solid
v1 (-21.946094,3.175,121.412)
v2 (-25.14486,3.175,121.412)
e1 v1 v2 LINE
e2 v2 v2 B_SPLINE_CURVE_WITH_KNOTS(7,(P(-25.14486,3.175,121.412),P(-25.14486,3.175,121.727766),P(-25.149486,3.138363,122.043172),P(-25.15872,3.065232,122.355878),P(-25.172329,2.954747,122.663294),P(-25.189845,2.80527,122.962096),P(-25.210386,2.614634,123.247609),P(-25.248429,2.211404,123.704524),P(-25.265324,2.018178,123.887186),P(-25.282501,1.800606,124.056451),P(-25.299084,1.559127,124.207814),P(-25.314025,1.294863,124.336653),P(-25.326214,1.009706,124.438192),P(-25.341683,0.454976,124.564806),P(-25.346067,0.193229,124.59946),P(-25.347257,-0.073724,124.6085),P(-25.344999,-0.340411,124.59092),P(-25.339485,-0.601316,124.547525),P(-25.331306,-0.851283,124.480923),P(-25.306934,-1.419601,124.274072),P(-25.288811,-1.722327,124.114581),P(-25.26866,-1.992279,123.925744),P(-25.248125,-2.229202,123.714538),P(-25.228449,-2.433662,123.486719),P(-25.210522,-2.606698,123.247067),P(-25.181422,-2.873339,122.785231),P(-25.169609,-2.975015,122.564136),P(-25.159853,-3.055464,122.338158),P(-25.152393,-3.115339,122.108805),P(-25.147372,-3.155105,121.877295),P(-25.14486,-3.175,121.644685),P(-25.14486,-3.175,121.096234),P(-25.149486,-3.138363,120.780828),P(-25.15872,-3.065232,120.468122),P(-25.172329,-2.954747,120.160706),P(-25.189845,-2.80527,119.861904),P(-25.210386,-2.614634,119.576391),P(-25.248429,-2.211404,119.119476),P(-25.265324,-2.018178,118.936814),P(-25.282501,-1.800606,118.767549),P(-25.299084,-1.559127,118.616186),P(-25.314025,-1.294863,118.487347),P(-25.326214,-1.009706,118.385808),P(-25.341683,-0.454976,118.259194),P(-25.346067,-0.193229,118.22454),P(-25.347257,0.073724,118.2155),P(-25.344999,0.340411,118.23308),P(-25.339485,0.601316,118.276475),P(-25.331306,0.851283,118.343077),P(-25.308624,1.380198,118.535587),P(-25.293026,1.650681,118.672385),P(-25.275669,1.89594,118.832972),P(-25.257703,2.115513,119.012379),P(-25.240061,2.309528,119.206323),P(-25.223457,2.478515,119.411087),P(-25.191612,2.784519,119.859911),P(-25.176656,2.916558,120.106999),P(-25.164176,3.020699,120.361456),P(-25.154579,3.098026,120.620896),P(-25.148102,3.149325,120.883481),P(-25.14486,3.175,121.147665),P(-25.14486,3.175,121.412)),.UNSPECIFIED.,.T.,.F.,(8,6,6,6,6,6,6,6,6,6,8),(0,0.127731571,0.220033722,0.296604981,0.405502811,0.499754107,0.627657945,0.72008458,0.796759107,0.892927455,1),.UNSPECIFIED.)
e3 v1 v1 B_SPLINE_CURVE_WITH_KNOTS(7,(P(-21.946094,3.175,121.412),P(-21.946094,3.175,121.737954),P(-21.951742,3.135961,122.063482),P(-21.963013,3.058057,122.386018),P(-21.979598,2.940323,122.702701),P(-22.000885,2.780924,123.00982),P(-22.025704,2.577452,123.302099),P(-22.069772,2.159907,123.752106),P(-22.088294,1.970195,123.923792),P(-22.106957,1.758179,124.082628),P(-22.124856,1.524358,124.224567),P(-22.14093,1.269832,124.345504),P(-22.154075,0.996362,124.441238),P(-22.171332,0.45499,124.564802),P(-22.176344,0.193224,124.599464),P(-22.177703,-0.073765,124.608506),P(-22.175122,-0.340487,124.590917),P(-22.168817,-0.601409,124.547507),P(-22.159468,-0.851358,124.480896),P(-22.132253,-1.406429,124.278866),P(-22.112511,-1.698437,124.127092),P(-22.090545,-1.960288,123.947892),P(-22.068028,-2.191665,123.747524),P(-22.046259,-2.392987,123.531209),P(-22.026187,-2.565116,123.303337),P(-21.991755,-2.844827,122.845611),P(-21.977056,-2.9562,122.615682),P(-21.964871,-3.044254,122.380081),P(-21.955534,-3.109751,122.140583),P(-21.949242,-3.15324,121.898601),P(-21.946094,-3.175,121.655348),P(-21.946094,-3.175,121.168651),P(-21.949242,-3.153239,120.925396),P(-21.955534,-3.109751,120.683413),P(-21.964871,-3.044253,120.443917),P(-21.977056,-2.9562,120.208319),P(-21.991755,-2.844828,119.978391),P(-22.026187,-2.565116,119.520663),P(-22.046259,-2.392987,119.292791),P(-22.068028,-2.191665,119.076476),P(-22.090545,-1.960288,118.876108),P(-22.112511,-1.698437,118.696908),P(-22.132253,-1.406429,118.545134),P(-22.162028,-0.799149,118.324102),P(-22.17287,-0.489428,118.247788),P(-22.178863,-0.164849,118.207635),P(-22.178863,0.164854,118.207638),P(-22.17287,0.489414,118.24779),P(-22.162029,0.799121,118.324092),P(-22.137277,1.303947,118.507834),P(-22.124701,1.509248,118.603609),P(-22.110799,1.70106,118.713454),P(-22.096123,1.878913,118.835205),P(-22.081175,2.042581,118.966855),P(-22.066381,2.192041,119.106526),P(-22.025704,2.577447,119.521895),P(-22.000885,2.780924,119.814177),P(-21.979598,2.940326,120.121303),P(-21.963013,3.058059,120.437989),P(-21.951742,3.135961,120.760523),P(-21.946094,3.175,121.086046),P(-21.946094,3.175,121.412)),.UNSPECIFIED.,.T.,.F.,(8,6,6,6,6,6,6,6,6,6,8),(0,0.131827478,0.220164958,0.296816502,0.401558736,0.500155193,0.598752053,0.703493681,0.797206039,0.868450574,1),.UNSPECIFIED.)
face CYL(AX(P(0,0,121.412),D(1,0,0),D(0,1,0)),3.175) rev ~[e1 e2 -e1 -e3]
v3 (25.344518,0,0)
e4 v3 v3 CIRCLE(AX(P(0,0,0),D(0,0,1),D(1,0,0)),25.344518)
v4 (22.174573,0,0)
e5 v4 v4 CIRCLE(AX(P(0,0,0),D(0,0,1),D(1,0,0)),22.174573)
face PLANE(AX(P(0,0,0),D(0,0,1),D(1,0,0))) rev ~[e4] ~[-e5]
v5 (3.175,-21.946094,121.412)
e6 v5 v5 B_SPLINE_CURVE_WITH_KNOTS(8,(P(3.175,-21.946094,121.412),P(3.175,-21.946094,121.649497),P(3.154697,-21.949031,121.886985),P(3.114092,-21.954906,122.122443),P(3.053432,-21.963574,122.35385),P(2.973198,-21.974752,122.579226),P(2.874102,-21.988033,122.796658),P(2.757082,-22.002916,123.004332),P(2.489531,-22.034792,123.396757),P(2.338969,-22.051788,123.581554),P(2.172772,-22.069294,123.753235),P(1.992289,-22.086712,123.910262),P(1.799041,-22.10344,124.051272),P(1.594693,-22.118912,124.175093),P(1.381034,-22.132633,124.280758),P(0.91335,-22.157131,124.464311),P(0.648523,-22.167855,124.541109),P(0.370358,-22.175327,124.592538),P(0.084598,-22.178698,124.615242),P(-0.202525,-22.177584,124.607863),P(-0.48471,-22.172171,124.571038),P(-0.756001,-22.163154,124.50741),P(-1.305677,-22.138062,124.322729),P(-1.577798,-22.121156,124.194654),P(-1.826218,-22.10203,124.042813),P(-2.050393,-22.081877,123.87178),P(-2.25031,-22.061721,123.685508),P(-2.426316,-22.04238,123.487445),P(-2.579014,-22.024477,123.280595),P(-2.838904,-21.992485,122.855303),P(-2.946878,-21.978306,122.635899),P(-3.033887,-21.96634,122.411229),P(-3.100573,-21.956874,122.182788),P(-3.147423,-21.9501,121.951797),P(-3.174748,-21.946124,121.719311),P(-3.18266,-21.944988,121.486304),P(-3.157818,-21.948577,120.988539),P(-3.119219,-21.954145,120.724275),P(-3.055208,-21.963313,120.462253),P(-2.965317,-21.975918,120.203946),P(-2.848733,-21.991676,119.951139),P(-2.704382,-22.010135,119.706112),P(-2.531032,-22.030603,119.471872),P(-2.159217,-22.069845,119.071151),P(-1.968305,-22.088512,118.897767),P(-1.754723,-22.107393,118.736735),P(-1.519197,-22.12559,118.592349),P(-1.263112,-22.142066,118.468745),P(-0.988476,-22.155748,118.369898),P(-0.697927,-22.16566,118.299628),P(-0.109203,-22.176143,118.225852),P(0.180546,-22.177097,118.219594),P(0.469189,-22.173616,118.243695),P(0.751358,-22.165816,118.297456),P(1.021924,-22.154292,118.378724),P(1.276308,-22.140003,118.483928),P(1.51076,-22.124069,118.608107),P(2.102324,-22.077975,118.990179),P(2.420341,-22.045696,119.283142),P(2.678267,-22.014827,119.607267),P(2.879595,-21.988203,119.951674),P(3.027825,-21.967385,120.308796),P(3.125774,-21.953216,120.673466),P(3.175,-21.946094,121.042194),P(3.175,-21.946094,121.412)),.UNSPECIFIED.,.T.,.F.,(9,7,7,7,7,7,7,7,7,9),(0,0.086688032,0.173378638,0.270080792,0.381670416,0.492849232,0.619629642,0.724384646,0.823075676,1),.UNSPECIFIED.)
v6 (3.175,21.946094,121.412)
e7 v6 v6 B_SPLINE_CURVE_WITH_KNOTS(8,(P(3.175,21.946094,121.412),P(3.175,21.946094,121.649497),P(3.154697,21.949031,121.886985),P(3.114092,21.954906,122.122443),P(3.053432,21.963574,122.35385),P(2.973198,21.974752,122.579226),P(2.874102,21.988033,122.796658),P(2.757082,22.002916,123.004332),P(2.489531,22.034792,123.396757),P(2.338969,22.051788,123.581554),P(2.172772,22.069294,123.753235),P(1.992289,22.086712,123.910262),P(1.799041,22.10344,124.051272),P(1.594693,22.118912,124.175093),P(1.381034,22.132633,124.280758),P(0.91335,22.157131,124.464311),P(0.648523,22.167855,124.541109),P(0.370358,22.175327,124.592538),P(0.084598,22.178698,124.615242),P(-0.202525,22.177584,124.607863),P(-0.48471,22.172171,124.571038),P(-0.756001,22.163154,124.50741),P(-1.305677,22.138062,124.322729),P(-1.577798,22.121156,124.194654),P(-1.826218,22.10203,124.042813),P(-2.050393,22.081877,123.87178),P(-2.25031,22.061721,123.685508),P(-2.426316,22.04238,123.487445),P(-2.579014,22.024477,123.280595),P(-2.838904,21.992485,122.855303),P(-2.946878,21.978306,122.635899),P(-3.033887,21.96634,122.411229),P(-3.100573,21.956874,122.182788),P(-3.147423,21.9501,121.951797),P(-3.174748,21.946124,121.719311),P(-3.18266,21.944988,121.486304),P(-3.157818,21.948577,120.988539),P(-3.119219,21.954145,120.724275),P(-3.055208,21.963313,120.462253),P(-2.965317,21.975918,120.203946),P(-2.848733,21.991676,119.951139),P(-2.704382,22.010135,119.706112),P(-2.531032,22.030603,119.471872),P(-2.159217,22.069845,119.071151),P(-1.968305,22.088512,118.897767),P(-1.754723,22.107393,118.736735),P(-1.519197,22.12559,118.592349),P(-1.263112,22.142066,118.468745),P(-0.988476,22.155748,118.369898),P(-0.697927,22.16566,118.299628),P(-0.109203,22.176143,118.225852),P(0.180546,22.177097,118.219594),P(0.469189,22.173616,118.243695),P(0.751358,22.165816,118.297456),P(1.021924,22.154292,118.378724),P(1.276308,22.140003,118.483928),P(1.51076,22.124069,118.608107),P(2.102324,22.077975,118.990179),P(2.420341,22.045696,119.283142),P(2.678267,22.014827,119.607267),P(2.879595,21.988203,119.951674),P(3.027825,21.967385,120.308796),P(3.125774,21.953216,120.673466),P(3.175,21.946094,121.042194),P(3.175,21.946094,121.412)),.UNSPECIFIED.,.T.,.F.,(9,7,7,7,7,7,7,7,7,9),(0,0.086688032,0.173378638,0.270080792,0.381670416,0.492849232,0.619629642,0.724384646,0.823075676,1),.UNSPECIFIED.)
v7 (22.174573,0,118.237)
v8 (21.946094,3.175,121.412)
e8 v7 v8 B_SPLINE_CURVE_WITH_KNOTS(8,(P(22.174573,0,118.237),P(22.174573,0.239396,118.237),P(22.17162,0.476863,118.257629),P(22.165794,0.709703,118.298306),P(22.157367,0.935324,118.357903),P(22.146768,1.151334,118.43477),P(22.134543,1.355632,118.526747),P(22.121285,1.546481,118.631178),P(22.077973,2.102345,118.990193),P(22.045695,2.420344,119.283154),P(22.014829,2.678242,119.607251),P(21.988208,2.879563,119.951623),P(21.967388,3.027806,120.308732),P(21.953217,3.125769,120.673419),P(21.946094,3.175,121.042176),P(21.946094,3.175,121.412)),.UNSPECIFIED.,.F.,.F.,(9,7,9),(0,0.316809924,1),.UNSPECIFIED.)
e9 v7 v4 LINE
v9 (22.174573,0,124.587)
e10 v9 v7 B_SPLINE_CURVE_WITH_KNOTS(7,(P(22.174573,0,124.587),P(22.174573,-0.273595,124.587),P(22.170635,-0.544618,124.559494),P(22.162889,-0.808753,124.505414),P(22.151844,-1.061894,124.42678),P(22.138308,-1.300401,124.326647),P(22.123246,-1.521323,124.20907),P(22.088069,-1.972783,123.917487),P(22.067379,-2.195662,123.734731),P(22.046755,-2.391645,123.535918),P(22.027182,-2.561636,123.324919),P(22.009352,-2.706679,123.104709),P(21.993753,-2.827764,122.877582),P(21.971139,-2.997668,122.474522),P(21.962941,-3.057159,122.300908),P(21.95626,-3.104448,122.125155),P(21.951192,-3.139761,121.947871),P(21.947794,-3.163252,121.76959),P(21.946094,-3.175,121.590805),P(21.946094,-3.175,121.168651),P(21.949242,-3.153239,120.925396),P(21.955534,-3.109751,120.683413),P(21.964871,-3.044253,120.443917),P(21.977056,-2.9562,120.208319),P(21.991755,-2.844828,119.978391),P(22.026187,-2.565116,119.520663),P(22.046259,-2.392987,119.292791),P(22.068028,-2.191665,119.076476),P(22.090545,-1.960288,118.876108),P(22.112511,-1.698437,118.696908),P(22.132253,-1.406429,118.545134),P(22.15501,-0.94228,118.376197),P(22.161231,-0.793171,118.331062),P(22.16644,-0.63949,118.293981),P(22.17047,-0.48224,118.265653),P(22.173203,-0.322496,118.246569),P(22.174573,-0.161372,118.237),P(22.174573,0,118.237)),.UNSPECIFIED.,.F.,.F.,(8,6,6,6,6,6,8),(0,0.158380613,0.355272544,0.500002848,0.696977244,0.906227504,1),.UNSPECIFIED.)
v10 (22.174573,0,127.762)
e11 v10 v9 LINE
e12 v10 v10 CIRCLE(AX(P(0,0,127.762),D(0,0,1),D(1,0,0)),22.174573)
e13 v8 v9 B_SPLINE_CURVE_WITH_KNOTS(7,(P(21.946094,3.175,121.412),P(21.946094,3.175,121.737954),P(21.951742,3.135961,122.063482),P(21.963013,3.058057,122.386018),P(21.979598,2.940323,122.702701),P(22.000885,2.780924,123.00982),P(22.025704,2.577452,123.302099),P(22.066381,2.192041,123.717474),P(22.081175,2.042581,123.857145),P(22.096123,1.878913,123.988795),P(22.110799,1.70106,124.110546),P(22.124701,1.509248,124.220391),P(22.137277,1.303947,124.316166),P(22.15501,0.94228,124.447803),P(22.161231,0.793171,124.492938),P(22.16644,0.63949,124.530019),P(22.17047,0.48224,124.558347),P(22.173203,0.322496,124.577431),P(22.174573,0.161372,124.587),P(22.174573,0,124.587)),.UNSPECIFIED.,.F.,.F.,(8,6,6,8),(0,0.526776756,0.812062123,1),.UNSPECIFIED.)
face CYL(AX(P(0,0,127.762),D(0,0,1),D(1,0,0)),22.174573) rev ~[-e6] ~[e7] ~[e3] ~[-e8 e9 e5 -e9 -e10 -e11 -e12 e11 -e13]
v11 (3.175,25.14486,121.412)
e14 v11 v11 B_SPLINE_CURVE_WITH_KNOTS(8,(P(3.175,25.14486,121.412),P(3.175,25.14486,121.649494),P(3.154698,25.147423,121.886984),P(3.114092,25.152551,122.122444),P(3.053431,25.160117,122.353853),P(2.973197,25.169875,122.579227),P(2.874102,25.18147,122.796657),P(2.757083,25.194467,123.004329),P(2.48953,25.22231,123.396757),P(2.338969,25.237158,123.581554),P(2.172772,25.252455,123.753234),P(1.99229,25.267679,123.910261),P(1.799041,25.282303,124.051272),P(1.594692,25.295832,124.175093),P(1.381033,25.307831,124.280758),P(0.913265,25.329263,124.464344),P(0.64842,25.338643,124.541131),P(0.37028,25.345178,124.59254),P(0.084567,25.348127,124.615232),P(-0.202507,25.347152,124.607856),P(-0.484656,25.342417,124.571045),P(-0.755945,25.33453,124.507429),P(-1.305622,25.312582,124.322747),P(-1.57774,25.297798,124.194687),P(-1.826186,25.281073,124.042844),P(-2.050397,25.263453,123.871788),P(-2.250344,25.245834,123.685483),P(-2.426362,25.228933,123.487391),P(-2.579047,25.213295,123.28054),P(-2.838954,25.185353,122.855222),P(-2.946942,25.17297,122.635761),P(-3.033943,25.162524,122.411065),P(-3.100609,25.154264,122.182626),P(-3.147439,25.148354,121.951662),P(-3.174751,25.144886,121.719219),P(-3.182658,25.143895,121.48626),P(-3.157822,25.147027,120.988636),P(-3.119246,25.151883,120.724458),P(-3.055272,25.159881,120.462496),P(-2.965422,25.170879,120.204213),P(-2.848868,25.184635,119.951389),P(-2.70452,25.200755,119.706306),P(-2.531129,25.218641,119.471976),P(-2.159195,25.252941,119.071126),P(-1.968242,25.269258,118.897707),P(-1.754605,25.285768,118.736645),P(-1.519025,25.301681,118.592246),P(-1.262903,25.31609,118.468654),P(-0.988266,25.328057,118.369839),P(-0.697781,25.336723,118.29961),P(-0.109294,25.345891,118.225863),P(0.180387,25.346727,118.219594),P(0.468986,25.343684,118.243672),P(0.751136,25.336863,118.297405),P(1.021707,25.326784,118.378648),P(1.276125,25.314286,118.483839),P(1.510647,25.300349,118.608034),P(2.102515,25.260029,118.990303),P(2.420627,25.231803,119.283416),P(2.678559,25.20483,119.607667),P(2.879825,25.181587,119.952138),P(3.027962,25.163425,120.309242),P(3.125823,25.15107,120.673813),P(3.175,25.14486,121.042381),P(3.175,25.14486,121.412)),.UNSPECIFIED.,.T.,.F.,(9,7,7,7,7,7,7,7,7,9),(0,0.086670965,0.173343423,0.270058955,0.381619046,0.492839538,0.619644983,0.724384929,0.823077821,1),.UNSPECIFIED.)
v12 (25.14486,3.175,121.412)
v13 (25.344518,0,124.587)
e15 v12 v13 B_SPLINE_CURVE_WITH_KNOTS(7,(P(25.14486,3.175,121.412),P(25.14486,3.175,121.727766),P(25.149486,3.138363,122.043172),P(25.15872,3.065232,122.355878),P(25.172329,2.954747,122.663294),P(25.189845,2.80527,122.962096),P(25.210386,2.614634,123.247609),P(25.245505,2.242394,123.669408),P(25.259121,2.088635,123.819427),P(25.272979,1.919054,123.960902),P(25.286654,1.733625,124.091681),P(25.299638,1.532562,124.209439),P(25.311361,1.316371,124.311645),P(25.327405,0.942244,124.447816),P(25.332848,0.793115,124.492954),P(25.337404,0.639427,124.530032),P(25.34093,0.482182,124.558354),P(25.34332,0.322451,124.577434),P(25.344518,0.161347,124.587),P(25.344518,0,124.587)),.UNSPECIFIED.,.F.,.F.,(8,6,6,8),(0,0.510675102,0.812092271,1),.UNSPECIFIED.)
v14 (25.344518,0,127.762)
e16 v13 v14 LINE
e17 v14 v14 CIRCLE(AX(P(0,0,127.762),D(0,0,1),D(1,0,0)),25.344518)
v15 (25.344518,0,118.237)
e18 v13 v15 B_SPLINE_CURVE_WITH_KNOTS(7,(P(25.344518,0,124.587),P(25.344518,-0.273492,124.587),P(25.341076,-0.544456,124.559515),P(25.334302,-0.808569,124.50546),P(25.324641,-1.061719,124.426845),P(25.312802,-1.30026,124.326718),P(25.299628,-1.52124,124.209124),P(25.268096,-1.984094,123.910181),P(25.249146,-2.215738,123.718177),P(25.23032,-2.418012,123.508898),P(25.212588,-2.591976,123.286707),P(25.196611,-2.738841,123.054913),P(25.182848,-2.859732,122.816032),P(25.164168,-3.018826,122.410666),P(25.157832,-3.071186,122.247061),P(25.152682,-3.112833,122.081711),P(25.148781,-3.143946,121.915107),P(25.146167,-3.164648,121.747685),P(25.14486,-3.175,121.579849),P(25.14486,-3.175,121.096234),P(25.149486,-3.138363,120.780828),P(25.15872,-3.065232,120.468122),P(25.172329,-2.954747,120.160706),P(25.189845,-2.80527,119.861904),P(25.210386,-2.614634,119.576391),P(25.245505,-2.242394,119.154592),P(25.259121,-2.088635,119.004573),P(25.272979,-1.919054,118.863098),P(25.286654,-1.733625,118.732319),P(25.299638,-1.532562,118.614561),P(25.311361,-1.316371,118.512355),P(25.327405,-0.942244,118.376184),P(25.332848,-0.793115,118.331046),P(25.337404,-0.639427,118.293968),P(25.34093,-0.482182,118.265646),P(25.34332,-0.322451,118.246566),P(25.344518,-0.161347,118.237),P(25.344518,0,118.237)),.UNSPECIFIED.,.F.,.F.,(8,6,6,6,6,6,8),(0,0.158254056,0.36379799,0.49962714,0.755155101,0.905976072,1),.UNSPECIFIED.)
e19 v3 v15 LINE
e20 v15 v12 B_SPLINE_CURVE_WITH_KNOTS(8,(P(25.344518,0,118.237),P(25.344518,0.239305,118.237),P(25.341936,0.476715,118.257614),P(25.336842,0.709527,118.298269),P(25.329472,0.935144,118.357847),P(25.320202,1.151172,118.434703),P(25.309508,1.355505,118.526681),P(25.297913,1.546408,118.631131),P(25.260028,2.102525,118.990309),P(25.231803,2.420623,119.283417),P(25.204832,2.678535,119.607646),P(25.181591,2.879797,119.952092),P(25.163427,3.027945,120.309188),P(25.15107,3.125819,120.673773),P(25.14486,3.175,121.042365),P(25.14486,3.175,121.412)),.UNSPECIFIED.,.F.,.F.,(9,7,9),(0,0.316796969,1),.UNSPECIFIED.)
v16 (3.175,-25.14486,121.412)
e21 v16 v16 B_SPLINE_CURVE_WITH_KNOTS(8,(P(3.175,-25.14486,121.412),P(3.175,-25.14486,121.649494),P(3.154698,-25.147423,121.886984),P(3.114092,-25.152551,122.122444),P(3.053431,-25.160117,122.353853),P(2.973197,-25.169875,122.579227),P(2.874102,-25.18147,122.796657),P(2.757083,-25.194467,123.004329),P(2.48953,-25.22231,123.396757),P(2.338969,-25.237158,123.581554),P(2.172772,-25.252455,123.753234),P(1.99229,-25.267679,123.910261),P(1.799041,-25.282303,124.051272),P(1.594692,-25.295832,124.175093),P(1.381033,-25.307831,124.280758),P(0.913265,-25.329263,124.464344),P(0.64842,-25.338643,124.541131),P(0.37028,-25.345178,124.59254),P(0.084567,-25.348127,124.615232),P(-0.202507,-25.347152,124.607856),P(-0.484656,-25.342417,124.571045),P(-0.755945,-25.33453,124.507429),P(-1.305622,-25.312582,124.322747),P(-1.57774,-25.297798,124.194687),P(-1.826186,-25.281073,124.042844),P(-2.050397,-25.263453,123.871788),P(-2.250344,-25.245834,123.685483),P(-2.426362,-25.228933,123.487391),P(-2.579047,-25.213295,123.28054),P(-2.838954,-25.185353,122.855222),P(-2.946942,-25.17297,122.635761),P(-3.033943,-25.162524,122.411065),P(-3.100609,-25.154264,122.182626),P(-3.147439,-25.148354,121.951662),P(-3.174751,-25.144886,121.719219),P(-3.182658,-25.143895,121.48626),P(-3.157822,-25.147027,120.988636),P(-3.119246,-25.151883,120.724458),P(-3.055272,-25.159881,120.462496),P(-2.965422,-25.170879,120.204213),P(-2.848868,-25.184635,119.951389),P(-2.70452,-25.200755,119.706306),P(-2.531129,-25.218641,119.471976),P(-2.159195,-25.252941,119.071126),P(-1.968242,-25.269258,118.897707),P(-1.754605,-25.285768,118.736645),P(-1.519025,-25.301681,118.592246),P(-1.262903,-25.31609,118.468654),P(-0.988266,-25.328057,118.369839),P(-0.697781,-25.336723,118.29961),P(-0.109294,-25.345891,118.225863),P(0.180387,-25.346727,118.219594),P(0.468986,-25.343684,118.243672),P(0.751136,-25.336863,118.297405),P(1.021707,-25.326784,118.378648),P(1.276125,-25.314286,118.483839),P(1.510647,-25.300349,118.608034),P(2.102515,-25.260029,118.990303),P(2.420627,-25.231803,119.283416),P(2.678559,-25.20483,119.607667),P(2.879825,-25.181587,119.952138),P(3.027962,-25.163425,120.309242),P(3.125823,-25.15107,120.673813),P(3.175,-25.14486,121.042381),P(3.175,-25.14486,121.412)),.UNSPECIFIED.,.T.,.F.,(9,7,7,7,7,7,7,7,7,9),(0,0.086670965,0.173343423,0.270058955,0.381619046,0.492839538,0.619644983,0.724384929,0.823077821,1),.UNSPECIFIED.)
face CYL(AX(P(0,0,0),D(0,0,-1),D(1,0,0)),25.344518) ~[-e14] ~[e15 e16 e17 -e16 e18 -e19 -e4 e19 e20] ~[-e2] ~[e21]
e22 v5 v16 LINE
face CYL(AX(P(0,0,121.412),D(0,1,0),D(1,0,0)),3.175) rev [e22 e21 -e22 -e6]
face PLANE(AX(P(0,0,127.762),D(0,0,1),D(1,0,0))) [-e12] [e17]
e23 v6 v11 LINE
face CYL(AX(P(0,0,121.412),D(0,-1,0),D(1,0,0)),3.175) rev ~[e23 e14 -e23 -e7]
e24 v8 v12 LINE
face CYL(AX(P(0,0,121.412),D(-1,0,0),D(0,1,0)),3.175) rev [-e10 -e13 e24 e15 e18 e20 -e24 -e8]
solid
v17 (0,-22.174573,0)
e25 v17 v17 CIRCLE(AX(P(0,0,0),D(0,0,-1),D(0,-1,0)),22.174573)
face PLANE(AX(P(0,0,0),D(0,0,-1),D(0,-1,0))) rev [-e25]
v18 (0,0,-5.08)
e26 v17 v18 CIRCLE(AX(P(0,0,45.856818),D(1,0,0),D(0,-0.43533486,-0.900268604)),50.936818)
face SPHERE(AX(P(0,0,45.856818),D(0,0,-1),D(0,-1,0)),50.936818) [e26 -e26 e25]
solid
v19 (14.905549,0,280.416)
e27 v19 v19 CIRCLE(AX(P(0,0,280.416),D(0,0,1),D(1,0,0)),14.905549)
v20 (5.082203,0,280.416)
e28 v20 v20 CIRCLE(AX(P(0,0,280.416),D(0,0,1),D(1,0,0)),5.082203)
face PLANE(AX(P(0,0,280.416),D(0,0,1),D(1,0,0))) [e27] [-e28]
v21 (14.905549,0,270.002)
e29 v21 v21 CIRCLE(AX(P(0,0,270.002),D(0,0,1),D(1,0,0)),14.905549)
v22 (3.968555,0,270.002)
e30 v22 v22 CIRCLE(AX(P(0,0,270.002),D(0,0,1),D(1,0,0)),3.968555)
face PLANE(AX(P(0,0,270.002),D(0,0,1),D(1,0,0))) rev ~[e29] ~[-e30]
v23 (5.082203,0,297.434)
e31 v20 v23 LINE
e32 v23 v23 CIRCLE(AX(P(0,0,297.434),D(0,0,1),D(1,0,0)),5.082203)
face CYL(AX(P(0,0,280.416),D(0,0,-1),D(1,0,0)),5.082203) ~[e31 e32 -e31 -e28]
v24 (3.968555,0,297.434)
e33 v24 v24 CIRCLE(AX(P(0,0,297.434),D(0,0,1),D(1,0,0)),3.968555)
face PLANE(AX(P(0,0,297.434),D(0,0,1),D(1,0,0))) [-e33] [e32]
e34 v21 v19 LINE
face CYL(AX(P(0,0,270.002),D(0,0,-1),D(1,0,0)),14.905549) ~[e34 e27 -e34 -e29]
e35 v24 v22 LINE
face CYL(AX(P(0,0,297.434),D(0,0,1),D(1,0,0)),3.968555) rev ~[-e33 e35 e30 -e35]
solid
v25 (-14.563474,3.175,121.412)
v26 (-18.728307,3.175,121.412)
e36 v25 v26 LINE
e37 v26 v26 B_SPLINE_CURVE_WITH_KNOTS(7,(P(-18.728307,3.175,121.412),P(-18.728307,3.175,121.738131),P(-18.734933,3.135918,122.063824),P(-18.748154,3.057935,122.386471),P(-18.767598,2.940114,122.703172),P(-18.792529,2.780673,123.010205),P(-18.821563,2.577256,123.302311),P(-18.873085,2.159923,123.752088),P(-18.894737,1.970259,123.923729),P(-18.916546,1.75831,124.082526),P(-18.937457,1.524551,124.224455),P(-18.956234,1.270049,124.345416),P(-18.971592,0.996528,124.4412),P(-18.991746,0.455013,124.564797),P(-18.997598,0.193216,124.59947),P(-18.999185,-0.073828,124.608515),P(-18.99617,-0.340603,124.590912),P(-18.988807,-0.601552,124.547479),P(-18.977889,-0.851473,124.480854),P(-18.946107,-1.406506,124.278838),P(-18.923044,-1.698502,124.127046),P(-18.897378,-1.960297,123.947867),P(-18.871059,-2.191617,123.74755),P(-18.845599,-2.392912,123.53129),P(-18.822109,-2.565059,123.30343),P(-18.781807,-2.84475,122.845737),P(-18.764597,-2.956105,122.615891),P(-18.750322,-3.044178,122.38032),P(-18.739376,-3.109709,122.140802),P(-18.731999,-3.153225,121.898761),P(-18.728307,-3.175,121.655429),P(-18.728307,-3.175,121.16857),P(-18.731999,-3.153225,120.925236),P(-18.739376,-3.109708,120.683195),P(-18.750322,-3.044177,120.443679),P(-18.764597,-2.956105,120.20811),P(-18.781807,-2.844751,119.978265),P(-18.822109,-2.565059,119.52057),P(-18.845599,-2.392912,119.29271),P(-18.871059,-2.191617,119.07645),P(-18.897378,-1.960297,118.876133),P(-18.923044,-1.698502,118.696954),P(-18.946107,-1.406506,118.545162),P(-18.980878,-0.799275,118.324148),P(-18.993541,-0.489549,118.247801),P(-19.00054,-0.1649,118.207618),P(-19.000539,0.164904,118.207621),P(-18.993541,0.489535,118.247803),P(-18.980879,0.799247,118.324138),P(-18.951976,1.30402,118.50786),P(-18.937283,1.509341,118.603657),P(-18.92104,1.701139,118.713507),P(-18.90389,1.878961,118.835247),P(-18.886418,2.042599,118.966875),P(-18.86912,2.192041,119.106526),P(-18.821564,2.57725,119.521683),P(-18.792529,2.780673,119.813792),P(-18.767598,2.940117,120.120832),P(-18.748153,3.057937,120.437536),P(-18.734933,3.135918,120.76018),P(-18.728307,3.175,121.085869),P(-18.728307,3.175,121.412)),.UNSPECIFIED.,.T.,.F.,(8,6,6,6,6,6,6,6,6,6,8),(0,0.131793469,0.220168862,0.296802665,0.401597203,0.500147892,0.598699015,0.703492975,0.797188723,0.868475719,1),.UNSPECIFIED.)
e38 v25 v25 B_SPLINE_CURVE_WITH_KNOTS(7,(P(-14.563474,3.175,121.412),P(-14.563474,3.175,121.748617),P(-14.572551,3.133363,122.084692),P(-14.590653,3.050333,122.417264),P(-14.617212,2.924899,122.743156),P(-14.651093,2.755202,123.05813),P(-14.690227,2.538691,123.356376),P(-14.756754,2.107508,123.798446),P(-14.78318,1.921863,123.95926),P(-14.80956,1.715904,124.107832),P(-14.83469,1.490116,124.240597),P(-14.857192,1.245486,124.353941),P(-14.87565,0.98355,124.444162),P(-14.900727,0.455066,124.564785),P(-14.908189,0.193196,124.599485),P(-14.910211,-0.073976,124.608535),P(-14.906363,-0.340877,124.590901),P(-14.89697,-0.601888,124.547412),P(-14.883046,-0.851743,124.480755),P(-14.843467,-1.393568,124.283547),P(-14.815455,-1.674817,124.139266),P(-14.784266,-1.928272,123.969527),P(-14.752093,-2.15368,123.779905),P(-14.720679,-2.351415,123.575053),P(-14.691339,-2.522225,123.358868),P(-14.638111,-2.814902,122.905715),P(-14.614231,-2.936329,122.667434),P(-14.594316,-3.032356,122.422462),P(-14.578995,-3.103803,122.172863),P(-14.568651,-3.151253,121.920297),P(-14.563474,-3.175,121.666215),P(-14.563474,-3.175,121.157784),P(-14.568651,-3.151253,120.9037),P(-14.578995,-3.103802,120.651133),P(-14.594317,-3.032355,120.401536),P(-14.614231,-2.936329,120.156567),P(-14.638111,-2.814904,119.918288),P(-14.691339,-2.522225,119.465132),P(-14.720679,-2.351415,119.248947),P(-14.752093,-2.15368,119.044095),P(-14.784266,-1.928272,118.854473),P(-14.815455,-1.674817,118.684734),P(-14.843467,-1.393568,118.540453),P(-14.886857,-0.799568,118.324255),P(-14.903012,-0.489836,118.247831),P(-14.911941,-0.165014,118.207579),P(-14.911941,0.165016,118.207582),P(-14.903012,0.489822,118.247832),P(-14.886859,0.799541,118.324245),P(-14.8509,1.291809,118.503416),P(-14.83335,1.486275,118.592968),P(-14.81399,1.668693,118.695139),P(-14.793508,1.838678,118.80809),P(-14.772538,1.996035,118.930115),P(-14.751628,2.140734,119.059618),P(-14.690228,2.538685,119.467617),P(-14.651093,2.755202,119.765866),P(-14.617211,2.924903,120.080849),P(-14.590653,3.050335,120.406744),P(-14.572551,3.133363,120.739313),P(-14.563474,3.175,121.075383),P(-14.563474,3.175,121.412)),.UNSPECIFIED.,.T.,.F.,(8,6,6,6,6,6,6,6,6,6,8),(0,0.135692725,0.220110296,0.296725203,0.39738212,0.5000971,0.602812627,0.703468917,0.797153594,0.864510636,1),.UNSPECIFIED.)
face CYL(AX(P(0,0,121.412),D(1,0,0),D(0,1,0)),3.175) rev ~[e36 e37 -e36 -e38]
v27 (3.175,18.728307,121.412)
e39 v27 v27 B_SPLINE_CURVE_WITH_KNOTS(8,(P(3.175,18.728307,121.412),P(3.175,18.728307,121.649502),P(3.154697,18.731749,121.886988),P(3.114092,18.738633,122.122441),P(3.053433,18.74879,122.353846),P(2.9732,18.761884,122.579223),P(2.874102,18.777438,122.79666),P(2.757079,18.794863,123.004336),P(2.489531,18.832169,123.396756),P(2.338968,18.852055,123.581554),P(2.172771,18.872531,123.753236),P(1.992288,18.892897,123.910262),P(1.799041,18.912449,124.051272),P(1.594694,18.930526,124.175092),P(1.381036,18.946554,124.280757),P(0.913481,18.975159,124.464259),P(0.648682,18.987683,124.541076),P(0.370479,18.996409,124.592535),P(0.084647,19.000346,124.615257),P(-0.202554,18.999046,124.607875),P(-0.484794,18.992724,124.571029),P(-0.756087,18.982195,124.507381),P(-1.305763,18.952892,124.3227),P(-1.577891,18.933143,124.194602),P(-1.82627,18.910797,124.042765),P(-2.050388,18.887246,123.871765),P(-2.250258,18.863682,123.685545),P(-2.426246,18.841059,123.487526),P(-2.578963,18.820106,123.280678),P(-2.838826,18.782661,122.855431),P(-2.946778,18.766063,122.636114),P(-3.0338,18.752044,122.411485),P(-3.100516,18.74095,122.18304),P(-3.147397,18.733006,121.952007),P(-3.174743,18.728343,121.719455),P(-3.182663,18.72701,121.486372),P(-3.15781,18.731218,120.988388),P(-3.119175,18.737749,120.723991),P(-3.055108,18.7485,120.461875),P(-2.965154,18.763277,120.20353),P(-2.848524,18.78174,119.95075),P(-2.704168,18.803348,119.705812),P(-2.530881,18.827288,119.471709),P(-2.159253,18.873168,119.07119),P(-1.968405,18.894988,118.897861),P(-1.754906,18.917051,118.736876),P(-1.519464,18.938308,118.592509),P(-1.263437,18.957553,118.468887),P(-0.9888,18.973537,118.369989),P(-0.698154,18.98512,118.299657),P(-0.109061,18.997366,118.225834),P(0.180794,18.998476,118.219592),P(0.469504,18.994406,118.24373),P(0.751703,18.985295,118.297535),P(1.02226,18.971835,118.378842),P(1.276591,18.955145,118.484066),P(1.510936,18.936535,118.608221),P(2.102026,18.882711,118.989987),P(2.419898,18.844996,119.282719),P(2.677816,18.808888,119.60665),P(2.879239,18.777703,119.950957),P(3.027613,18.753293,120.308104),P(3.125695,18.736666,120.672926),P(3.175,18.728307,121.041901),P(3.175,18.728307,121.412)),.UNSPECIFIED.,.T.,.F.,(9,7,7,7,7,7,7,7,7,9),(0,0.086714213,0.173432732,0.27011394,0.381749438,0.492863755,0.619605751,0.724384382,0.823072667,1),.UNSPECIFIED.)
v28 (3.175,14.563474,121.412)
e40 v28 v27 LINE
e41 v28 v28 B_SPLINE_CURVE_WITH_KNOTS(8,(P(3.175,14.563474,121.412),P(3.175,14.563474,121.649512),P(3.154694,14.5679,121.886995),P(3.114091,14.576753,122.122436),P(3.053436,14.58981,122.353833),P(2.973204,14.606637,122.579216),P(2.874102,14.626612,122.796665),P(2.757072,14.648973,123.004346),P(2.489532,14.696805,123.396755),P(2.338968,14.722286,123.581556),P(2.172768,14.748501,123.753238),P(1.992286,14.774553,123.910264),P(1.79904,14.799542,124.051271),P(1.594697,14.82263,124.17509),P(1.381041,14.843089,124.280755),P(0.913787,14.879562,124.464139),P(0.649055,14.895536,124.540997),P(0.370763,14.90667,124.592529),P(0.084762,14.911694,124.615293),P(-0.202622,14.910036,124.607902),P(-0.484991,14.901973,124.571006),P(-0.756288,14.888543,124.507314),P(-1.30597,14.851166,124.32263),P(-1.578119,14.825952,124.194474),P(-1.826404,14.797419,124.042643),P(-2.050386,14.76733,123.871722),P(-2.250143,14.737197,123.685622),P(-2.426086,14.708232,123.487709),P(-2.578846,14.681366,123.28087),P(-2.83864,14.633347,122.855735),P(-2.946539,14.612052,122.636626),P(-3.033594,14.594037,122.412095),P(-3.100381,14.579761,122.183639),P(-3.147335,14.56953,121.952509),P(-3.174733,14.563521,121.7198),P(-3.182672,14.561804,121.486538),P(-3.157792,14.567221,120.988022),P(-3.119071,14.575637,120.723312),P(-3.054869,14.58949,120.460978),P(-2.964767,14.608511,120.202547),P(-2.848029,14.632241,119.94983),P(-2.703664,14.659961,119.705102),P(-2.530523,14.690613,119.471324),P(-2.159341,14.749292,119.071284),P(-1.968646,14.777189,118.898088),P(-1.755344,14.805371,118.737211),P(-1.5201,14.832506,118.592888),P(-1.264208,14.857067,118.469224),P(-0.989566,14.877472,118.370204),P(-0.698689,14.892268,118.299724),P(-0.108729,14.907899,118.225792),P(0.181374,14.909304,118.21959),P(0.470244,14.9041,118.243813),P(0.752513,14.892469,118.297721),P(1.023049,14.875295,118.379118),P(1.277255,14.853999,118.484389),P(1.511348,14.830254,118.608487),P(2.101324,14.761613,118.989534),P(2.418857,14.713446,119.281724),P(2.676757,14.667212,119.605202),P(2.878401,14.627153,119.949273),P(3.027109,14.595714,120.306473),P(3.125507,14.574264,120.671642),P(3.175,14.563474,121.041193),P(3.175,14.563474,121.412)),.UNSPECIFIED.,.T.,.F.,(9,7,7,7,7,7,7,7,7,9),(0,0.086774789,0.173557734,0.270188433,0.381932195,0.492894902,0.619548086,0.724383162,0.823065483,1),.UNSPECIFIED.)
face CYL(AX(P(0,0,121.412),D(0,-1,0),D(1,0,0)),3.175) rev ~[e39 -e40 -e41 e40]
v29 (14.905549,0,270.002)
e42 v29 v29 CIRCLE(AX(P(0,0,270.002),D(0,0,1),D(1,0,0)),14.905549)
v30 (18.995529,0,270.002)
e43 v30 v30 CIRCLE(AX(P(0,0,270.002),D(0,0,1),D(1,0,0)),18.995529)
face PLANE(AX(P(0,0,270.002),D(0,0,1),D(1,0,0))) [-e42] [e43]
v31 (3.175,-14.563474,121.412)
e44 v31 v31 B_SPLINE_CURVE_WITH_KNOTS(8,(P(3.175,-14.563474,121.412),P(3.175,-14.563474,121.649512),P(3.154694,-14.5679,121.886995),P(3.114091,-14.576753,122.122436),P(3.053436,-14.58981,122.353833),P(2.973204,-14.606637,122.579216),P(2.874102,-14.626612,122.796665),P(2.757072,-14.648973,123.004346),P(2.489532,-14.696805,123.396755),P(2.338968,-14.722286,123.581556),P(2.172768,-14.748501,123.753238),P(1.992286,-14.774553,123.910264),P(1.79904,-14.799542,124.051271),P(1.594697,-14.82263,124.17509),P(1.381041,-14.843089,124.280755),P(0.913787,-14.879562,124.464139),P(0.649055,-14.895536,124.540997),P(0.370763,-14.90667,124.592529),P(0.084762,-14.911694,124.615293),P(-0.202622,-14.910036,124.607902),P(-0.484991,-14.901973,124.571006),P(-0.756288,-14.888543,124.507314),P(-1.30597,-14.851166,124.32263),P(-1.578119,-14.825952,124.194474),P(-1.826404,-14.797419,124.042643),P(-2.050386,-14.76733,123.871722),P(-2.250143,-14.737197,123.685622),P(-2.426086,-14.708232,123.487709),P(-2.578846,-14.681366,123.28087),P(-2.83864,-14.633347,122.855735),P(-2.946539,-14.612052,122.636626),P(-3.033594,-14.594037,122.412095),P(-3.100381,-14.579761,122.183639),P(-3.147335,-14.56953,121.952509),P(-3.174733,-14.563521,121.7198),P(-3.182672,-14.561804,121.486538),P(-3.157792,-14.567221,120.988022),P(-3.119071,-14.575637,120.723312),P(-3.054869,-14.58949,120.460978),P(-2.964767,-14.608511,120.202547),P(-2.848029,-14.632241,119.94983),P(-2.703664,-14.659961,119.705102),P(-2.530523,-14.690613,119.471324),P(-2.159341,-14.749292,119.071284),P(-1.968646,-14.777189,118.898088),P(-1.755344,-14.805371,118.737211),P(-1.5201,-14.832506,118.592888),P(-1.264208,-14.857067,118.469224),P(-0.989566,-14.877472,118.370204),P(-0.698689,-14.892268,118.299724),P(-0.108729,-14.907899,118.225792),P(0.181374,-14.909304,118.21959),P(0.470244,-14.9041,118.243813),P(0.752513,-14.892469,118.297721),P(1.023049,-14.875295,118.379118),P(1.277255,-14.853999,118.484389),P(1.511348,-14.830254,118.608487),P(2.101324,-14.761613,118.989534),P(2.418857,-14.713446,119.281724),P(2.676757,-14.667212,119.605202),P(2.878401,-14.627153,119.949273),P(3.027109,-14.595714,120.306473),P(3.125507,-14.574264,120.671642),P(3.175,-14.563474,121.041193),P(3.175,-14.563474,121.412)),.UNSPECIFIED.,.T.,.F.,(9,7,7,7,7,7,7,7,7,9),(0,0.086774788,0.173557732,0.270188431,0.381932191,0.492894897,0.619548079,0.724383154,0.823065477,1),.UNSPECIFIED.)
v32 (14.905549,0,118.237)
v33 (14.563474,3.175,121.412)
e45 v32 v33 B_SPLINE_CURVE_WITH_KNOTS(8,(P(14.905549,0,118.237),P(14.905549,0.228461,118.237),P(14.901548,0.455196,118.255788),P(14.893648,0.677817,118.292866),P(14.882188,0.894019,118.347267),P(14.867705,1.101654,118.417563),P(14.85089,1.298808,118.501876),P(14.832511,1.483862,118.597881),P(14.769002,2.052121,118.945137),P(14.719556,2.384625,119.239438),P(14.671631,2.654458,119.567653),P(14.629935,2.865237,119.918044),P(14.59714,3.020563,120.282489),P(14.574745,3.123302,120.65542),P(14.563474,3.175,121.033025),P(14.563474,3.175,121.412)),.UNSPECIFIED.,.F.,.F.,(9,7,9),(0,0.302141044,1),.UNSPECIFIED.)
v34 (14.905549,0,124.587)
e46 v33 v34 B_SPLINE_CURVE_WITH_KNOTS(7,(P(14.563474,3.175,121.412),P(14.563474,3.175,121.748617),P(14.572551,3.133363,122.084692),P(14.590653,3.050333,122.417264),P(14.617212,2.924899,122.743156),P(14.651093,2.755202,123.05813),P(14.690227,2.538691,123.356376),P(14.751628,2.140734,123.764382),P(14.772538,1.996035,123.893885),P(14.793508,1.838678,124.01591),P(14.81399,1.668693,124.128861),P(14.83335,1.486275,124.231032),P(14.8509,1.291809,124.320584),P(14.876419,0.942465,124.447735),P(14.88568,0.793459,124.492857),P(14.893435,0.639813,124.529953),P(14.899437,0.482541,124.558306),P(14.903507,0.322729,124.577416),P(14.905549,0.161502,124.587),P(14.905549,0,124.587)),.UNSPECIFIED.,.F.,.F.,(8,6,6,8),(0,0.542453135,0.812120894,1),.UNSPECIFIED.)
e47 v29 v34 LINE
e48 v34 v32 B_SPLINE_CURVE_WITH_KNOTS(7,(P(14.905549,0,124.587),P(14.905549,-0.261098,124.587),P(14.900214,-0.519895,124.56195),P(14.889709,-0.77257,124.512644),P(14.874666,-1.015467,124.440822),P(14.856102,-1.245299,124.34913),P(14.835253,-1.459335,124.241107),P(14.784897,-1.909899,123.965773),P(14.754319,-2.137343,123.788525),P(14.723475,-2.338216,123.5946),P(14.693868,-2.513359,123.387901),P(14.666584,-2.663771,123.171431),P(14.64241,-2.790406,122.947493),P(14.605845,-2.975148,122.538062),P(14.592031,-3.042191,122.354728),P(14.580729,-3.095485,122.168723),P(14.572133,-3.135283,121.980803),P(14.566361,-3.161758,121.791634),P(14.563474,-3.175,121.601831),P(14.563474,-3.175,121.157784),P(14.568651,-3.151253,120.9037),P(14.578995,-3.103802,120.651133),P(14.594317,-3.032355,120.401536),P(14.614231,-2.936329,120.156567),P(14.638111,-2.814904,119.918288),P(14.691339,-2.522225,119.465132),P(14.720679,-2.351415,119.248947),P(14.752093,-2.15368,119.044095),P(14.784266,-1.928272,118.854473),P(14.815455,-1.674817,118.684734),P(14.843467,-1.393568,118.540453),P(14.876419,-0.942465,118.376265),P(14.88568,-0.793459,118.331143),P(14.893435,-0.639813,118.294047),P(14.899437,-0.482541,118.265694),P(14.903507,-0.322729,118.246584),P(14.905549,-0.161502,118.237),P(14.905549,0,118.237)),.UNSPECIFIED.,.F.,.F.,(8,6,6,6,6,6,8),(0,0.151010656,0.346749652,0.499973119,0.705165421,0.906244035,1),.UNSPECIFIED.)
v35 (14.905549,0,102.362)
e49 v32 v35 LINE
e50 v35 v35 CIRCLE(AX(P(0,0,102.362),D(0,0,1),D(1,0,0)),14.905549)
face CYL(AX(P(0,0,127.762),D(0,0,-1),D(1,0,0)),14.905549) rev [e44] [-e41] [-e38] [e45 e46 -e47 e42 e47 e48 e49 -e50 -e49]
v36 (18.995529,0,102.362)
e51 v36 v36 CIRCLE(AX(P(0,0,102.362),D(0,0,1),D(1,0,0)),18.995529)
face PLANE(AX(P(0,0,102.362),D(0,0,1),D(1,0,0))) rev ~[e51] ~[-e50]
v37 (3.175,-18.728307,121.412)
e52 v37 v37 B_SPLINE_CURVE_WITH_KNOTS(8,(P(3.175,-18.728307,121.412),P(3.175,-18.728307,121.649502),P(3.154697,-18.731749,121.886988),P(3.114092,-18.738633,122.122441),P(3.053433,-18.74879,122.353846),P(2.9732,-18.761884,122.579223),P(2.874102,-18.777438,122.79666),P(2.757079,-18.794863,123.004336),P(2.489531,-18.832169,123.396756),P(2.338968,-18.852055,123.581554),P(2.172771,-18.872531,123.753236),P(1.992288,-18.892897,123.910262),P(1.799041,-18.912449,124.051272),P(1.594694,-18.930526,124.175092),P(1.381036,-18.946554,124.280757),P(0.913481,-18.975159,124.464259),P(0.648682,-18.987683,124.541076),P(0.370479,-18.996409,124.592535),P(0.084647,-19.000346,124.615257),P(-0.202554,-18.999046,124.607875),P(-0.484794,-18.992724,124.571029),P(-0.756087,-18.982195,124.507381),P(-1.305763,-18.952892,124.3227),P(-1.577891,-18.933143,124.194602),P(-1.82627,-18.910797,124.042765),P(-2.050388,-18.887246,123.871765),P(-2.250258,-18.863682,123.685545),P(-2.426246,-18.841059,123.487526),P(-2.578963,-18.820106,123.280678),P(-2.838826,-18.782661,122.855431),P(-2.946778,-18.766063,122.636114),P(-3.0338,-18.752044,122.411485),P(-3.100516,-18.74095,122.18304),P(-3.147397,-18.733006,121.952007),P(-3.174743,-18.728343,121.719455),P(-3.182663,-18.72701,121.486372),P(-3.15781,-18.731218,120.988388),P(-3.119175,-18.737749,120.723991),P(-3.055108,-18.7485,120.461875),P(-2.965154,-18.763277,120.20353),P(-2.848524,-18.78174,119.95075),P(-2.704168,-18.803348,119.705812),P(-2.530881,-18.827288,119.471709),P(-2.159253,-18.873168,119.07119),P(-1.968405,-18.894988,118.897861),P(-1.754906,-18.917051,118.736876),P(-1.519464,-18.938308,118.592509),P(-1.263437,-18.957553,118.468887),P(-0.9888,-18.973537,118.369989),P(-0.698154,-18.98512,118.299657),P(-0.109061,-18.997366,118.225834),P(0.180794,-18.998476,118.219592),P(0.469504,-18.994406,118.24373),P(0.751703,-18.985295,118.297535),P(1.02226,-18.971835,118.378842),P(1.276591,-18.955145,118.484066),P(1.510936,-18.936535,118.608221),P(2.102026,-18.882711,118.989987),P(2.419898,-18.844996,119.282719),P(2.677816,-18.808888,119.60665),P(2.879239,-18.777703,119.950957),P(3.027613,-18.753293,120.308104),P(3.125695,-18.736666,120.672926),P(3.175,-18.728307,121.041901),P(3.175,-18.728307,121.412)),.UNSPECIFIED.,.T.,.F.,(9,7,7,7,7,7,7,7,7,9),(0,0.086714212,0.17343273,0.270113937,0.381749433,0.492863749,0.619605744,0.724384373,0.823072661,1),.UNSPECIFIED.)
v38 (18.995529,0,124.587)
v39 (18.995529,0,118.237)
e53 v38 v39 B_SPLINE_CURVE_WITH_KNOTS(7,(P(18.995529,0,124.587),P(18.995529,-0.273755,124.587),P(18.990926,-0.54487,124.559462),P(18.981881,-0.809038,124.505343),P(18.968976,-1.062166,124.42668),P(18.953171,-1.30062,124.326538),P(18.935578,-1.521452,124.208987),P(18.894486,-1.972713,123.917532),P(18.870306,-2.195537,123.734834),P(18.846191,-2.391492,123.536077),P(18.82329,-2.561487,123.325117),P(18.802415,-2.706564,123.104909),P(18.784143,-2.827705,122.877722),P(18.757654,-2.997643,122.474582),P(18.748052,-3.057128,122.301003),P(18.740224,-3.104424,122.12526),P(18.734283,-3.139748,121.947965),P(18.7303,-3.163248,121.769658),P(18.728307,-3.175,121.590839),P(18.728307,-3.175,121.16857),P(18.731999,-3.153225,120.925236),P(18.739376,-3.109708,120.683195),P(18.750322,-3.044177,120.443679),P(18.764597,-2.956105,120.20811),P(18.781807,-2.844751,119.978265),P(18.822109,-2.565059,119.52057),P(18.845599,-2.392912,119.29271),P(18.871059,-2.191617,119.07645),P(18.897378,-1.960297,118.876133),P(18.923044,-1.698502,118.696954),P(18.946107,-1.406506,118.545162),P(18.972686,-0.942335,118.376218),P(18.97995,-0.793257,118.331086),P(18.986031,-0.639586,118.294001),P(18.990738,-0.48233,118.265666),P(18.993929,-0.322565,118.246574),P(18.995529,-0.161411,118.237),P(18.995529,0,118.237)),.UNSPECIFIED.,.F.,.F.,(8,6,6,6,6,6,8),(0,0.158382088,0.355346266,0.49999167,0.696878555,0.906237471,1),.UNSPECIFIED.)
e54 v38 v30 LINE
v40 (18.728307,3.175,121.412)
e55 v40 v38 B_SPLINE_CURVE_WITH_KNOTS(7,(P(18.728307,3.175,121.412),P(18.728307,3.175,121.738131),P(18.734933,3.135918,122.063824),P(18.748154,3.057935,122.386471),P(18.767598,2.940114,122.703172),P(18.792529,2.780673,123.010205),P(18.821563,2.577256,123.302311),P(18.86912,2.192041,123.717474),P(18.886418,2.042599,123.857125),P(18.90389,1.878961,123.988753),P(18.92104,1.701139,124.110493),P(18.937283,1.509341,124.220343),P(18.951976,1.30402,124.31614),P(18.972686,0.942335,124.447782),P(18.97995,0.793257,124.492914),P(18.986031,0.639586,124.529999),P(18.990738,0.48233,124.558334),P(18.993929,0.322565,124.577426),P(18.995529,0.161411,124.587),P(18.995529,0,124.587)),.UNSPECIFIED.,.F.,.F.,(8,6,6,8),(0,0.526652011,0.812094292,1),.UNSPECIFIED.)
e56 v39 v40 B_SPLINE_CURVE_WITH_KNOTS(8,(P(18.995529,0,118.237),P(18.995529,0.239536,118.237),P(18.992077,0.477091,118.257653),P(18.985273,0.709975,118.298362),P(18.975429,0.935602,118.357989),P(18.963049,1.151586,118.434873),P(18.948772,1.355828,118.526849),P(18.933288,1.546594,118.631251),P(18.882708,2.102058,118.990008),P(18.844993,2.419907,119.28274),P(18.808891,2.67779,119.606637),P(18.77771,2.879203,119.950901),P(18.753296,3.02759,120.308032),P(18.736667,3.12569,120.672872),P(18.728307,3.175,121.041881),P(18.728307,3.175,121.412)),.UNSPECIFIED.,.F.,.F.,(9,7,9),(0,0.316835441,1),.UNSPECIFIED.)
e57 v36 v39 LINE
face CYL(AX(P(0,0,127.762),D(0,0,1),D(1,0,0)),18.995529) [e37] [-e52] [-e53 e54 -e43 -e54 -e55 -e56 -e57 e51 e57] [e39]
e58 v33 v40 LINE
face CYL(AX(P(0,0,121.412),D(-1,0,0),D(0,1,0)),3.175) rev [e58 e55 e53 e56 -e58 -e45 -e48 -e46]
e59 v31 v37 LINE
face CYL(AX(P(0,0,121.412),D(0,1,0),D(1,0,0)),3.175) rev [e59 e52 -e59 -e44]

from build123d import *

# Parameters (mm, degrees)
F0_R           = 25.344518306
F1_DEPTH       = 127.762
F2_R           = 22.1745726993
F3_DEPTH       = 127.763
F4_R           = 18.9955290519
F4_R_2         = 14.9055490035
F5_DEPTH       = 142.24
F6_DEPTH       = 25.4
F7_R           = 3.175
F8_DEPTH       = 25.345518306
F8_DEPTH_BACK  = 25.4
F9_R           = 3.175
F10_DEPTH      = 25.345518406
F10_DEPTH_BACK = 25.4
F13_R          = 14.9055490035
F14_DEPTH      = 10.414
F15_R          = 5.0822027906
F16_DEPTH      = 17.018
F17_R          = 3.9685547881
F18_DEPTH      = 302.515


with BuildPart() as f1:
    # F0 (on Top) → F1 (new body)
    with BuildSketch(Plane.XY):
        Circle(F0_R)
    extrude(amount=F1_DEPTH)

    # F2 (on face) → F3 (cut, through all)
    with BuildSketch(Plane.XY.offset(127.762)):
        Circle(F2_R)
    extrude(amount=-F3_DEPTH, mode=Mode.SUBTRACT)


with BuildPart() as f5:
    # F4 (on face) → F5 (new body)
    with BuildSketch(Plane.XY.offset(127.762)):
        Circle(F4_R)
        Circle(F4_R_2, mode=Mode.SUBTRACT)
    extrude(amount=F5_DEPTH)

    # F4 (on face) → F6 (join)
    with BuildSketch(Plane.XY.offset(127.762)):
        Circle(F4_R)
        Circle(F4_R_2, mode=Mode.SUBTRACT)
    extrude(amount=-F6_DEPTH)


with BuildPart() as f8_tool:
    # F7 (on Right) → F8 (new body, two sides)
    with BuildSketch(Plane.YZ) as f8_sk:
        with Locations((0, 121.412)):
            Circle(F7_R)
    extrude(amount=-F8_DEPTH)
    extrude(f8_sk.sketch, amount=F8_DEPTH_BACK)


with BuildPart() as f1_1:
    add(f1.part)

    # F8: cut by f8_tool
    add(f8_tool.part, mode=Mode.SUBTRACT)


with BuildPart() as f5_1:
    add(f5.part)

    # F8: cut by f8_tool
    add(f8_tool.part, mode=Mode.SUBTRACT)


with BuildPart() as f10_tool:
    # F9 (on Front) → F10 (new body, two sides)
    with BuildSketch(Plane.XZ) as f10_sk:
        with Locations((0, 121.412)):
            Circle(F9_R)
    extrude(amount=-F10_DEPTH)
    extrude(f10_sk.sketch, amount=F10_DEPTH_BACK)


with BuildPart() as f1_2:
    add(f1_1.part)

    # F10: cut by f10_tool
    add(f10_tool.part, mode=Mode.SUBTRACT)


with BuildPart() as f5_2:
    add(f5_1.part)

    # F10: cut by f10_tool
    add(f10_tool.part, mode=Mode.SUBTRACT)


with BuildPart() as f12:
    # F11 (on Right) → F12 (revolve)
    with BuildSketch(Plane.YZ):
        with BuildLine():
            Line((0, 0), (-22.1745726993, 0))
            ThreePointArc((-22.1745726993, 0), (-11.3745117961, -3.7937601462), (0, -5.08))
            Line((0, -5.08), (0, 0))
        make_face()
    revolve(axis=Axis((0, 0, -2.54), (0, 0, -1)))


with BuildPart() as f14:
    # F13 (on face) → F14 (new body)
    with BuildSketch(Plane.XY.offset(270.002)):
        Circle(F13_R)
    extrude(amount=F14_DEPTH)

    # F15 (on face) → F16 (join)
    with BuildSketch(Plane.XY.offset(280.416)):
        Circle(F15_R)
    extrude(amount=F16_DEPTH)

    # F17 (on face) → F18 (cut, through all)
    with BuildSketch(Plane.XY.offset(297.434)):
        Circle(F17_R)
    extrude(amount=-F18_DEPTH, mode=Mode.SUBTRACT)


solid = Compound([f1_2.part, f5_2.part, f12.part, f14.part])
